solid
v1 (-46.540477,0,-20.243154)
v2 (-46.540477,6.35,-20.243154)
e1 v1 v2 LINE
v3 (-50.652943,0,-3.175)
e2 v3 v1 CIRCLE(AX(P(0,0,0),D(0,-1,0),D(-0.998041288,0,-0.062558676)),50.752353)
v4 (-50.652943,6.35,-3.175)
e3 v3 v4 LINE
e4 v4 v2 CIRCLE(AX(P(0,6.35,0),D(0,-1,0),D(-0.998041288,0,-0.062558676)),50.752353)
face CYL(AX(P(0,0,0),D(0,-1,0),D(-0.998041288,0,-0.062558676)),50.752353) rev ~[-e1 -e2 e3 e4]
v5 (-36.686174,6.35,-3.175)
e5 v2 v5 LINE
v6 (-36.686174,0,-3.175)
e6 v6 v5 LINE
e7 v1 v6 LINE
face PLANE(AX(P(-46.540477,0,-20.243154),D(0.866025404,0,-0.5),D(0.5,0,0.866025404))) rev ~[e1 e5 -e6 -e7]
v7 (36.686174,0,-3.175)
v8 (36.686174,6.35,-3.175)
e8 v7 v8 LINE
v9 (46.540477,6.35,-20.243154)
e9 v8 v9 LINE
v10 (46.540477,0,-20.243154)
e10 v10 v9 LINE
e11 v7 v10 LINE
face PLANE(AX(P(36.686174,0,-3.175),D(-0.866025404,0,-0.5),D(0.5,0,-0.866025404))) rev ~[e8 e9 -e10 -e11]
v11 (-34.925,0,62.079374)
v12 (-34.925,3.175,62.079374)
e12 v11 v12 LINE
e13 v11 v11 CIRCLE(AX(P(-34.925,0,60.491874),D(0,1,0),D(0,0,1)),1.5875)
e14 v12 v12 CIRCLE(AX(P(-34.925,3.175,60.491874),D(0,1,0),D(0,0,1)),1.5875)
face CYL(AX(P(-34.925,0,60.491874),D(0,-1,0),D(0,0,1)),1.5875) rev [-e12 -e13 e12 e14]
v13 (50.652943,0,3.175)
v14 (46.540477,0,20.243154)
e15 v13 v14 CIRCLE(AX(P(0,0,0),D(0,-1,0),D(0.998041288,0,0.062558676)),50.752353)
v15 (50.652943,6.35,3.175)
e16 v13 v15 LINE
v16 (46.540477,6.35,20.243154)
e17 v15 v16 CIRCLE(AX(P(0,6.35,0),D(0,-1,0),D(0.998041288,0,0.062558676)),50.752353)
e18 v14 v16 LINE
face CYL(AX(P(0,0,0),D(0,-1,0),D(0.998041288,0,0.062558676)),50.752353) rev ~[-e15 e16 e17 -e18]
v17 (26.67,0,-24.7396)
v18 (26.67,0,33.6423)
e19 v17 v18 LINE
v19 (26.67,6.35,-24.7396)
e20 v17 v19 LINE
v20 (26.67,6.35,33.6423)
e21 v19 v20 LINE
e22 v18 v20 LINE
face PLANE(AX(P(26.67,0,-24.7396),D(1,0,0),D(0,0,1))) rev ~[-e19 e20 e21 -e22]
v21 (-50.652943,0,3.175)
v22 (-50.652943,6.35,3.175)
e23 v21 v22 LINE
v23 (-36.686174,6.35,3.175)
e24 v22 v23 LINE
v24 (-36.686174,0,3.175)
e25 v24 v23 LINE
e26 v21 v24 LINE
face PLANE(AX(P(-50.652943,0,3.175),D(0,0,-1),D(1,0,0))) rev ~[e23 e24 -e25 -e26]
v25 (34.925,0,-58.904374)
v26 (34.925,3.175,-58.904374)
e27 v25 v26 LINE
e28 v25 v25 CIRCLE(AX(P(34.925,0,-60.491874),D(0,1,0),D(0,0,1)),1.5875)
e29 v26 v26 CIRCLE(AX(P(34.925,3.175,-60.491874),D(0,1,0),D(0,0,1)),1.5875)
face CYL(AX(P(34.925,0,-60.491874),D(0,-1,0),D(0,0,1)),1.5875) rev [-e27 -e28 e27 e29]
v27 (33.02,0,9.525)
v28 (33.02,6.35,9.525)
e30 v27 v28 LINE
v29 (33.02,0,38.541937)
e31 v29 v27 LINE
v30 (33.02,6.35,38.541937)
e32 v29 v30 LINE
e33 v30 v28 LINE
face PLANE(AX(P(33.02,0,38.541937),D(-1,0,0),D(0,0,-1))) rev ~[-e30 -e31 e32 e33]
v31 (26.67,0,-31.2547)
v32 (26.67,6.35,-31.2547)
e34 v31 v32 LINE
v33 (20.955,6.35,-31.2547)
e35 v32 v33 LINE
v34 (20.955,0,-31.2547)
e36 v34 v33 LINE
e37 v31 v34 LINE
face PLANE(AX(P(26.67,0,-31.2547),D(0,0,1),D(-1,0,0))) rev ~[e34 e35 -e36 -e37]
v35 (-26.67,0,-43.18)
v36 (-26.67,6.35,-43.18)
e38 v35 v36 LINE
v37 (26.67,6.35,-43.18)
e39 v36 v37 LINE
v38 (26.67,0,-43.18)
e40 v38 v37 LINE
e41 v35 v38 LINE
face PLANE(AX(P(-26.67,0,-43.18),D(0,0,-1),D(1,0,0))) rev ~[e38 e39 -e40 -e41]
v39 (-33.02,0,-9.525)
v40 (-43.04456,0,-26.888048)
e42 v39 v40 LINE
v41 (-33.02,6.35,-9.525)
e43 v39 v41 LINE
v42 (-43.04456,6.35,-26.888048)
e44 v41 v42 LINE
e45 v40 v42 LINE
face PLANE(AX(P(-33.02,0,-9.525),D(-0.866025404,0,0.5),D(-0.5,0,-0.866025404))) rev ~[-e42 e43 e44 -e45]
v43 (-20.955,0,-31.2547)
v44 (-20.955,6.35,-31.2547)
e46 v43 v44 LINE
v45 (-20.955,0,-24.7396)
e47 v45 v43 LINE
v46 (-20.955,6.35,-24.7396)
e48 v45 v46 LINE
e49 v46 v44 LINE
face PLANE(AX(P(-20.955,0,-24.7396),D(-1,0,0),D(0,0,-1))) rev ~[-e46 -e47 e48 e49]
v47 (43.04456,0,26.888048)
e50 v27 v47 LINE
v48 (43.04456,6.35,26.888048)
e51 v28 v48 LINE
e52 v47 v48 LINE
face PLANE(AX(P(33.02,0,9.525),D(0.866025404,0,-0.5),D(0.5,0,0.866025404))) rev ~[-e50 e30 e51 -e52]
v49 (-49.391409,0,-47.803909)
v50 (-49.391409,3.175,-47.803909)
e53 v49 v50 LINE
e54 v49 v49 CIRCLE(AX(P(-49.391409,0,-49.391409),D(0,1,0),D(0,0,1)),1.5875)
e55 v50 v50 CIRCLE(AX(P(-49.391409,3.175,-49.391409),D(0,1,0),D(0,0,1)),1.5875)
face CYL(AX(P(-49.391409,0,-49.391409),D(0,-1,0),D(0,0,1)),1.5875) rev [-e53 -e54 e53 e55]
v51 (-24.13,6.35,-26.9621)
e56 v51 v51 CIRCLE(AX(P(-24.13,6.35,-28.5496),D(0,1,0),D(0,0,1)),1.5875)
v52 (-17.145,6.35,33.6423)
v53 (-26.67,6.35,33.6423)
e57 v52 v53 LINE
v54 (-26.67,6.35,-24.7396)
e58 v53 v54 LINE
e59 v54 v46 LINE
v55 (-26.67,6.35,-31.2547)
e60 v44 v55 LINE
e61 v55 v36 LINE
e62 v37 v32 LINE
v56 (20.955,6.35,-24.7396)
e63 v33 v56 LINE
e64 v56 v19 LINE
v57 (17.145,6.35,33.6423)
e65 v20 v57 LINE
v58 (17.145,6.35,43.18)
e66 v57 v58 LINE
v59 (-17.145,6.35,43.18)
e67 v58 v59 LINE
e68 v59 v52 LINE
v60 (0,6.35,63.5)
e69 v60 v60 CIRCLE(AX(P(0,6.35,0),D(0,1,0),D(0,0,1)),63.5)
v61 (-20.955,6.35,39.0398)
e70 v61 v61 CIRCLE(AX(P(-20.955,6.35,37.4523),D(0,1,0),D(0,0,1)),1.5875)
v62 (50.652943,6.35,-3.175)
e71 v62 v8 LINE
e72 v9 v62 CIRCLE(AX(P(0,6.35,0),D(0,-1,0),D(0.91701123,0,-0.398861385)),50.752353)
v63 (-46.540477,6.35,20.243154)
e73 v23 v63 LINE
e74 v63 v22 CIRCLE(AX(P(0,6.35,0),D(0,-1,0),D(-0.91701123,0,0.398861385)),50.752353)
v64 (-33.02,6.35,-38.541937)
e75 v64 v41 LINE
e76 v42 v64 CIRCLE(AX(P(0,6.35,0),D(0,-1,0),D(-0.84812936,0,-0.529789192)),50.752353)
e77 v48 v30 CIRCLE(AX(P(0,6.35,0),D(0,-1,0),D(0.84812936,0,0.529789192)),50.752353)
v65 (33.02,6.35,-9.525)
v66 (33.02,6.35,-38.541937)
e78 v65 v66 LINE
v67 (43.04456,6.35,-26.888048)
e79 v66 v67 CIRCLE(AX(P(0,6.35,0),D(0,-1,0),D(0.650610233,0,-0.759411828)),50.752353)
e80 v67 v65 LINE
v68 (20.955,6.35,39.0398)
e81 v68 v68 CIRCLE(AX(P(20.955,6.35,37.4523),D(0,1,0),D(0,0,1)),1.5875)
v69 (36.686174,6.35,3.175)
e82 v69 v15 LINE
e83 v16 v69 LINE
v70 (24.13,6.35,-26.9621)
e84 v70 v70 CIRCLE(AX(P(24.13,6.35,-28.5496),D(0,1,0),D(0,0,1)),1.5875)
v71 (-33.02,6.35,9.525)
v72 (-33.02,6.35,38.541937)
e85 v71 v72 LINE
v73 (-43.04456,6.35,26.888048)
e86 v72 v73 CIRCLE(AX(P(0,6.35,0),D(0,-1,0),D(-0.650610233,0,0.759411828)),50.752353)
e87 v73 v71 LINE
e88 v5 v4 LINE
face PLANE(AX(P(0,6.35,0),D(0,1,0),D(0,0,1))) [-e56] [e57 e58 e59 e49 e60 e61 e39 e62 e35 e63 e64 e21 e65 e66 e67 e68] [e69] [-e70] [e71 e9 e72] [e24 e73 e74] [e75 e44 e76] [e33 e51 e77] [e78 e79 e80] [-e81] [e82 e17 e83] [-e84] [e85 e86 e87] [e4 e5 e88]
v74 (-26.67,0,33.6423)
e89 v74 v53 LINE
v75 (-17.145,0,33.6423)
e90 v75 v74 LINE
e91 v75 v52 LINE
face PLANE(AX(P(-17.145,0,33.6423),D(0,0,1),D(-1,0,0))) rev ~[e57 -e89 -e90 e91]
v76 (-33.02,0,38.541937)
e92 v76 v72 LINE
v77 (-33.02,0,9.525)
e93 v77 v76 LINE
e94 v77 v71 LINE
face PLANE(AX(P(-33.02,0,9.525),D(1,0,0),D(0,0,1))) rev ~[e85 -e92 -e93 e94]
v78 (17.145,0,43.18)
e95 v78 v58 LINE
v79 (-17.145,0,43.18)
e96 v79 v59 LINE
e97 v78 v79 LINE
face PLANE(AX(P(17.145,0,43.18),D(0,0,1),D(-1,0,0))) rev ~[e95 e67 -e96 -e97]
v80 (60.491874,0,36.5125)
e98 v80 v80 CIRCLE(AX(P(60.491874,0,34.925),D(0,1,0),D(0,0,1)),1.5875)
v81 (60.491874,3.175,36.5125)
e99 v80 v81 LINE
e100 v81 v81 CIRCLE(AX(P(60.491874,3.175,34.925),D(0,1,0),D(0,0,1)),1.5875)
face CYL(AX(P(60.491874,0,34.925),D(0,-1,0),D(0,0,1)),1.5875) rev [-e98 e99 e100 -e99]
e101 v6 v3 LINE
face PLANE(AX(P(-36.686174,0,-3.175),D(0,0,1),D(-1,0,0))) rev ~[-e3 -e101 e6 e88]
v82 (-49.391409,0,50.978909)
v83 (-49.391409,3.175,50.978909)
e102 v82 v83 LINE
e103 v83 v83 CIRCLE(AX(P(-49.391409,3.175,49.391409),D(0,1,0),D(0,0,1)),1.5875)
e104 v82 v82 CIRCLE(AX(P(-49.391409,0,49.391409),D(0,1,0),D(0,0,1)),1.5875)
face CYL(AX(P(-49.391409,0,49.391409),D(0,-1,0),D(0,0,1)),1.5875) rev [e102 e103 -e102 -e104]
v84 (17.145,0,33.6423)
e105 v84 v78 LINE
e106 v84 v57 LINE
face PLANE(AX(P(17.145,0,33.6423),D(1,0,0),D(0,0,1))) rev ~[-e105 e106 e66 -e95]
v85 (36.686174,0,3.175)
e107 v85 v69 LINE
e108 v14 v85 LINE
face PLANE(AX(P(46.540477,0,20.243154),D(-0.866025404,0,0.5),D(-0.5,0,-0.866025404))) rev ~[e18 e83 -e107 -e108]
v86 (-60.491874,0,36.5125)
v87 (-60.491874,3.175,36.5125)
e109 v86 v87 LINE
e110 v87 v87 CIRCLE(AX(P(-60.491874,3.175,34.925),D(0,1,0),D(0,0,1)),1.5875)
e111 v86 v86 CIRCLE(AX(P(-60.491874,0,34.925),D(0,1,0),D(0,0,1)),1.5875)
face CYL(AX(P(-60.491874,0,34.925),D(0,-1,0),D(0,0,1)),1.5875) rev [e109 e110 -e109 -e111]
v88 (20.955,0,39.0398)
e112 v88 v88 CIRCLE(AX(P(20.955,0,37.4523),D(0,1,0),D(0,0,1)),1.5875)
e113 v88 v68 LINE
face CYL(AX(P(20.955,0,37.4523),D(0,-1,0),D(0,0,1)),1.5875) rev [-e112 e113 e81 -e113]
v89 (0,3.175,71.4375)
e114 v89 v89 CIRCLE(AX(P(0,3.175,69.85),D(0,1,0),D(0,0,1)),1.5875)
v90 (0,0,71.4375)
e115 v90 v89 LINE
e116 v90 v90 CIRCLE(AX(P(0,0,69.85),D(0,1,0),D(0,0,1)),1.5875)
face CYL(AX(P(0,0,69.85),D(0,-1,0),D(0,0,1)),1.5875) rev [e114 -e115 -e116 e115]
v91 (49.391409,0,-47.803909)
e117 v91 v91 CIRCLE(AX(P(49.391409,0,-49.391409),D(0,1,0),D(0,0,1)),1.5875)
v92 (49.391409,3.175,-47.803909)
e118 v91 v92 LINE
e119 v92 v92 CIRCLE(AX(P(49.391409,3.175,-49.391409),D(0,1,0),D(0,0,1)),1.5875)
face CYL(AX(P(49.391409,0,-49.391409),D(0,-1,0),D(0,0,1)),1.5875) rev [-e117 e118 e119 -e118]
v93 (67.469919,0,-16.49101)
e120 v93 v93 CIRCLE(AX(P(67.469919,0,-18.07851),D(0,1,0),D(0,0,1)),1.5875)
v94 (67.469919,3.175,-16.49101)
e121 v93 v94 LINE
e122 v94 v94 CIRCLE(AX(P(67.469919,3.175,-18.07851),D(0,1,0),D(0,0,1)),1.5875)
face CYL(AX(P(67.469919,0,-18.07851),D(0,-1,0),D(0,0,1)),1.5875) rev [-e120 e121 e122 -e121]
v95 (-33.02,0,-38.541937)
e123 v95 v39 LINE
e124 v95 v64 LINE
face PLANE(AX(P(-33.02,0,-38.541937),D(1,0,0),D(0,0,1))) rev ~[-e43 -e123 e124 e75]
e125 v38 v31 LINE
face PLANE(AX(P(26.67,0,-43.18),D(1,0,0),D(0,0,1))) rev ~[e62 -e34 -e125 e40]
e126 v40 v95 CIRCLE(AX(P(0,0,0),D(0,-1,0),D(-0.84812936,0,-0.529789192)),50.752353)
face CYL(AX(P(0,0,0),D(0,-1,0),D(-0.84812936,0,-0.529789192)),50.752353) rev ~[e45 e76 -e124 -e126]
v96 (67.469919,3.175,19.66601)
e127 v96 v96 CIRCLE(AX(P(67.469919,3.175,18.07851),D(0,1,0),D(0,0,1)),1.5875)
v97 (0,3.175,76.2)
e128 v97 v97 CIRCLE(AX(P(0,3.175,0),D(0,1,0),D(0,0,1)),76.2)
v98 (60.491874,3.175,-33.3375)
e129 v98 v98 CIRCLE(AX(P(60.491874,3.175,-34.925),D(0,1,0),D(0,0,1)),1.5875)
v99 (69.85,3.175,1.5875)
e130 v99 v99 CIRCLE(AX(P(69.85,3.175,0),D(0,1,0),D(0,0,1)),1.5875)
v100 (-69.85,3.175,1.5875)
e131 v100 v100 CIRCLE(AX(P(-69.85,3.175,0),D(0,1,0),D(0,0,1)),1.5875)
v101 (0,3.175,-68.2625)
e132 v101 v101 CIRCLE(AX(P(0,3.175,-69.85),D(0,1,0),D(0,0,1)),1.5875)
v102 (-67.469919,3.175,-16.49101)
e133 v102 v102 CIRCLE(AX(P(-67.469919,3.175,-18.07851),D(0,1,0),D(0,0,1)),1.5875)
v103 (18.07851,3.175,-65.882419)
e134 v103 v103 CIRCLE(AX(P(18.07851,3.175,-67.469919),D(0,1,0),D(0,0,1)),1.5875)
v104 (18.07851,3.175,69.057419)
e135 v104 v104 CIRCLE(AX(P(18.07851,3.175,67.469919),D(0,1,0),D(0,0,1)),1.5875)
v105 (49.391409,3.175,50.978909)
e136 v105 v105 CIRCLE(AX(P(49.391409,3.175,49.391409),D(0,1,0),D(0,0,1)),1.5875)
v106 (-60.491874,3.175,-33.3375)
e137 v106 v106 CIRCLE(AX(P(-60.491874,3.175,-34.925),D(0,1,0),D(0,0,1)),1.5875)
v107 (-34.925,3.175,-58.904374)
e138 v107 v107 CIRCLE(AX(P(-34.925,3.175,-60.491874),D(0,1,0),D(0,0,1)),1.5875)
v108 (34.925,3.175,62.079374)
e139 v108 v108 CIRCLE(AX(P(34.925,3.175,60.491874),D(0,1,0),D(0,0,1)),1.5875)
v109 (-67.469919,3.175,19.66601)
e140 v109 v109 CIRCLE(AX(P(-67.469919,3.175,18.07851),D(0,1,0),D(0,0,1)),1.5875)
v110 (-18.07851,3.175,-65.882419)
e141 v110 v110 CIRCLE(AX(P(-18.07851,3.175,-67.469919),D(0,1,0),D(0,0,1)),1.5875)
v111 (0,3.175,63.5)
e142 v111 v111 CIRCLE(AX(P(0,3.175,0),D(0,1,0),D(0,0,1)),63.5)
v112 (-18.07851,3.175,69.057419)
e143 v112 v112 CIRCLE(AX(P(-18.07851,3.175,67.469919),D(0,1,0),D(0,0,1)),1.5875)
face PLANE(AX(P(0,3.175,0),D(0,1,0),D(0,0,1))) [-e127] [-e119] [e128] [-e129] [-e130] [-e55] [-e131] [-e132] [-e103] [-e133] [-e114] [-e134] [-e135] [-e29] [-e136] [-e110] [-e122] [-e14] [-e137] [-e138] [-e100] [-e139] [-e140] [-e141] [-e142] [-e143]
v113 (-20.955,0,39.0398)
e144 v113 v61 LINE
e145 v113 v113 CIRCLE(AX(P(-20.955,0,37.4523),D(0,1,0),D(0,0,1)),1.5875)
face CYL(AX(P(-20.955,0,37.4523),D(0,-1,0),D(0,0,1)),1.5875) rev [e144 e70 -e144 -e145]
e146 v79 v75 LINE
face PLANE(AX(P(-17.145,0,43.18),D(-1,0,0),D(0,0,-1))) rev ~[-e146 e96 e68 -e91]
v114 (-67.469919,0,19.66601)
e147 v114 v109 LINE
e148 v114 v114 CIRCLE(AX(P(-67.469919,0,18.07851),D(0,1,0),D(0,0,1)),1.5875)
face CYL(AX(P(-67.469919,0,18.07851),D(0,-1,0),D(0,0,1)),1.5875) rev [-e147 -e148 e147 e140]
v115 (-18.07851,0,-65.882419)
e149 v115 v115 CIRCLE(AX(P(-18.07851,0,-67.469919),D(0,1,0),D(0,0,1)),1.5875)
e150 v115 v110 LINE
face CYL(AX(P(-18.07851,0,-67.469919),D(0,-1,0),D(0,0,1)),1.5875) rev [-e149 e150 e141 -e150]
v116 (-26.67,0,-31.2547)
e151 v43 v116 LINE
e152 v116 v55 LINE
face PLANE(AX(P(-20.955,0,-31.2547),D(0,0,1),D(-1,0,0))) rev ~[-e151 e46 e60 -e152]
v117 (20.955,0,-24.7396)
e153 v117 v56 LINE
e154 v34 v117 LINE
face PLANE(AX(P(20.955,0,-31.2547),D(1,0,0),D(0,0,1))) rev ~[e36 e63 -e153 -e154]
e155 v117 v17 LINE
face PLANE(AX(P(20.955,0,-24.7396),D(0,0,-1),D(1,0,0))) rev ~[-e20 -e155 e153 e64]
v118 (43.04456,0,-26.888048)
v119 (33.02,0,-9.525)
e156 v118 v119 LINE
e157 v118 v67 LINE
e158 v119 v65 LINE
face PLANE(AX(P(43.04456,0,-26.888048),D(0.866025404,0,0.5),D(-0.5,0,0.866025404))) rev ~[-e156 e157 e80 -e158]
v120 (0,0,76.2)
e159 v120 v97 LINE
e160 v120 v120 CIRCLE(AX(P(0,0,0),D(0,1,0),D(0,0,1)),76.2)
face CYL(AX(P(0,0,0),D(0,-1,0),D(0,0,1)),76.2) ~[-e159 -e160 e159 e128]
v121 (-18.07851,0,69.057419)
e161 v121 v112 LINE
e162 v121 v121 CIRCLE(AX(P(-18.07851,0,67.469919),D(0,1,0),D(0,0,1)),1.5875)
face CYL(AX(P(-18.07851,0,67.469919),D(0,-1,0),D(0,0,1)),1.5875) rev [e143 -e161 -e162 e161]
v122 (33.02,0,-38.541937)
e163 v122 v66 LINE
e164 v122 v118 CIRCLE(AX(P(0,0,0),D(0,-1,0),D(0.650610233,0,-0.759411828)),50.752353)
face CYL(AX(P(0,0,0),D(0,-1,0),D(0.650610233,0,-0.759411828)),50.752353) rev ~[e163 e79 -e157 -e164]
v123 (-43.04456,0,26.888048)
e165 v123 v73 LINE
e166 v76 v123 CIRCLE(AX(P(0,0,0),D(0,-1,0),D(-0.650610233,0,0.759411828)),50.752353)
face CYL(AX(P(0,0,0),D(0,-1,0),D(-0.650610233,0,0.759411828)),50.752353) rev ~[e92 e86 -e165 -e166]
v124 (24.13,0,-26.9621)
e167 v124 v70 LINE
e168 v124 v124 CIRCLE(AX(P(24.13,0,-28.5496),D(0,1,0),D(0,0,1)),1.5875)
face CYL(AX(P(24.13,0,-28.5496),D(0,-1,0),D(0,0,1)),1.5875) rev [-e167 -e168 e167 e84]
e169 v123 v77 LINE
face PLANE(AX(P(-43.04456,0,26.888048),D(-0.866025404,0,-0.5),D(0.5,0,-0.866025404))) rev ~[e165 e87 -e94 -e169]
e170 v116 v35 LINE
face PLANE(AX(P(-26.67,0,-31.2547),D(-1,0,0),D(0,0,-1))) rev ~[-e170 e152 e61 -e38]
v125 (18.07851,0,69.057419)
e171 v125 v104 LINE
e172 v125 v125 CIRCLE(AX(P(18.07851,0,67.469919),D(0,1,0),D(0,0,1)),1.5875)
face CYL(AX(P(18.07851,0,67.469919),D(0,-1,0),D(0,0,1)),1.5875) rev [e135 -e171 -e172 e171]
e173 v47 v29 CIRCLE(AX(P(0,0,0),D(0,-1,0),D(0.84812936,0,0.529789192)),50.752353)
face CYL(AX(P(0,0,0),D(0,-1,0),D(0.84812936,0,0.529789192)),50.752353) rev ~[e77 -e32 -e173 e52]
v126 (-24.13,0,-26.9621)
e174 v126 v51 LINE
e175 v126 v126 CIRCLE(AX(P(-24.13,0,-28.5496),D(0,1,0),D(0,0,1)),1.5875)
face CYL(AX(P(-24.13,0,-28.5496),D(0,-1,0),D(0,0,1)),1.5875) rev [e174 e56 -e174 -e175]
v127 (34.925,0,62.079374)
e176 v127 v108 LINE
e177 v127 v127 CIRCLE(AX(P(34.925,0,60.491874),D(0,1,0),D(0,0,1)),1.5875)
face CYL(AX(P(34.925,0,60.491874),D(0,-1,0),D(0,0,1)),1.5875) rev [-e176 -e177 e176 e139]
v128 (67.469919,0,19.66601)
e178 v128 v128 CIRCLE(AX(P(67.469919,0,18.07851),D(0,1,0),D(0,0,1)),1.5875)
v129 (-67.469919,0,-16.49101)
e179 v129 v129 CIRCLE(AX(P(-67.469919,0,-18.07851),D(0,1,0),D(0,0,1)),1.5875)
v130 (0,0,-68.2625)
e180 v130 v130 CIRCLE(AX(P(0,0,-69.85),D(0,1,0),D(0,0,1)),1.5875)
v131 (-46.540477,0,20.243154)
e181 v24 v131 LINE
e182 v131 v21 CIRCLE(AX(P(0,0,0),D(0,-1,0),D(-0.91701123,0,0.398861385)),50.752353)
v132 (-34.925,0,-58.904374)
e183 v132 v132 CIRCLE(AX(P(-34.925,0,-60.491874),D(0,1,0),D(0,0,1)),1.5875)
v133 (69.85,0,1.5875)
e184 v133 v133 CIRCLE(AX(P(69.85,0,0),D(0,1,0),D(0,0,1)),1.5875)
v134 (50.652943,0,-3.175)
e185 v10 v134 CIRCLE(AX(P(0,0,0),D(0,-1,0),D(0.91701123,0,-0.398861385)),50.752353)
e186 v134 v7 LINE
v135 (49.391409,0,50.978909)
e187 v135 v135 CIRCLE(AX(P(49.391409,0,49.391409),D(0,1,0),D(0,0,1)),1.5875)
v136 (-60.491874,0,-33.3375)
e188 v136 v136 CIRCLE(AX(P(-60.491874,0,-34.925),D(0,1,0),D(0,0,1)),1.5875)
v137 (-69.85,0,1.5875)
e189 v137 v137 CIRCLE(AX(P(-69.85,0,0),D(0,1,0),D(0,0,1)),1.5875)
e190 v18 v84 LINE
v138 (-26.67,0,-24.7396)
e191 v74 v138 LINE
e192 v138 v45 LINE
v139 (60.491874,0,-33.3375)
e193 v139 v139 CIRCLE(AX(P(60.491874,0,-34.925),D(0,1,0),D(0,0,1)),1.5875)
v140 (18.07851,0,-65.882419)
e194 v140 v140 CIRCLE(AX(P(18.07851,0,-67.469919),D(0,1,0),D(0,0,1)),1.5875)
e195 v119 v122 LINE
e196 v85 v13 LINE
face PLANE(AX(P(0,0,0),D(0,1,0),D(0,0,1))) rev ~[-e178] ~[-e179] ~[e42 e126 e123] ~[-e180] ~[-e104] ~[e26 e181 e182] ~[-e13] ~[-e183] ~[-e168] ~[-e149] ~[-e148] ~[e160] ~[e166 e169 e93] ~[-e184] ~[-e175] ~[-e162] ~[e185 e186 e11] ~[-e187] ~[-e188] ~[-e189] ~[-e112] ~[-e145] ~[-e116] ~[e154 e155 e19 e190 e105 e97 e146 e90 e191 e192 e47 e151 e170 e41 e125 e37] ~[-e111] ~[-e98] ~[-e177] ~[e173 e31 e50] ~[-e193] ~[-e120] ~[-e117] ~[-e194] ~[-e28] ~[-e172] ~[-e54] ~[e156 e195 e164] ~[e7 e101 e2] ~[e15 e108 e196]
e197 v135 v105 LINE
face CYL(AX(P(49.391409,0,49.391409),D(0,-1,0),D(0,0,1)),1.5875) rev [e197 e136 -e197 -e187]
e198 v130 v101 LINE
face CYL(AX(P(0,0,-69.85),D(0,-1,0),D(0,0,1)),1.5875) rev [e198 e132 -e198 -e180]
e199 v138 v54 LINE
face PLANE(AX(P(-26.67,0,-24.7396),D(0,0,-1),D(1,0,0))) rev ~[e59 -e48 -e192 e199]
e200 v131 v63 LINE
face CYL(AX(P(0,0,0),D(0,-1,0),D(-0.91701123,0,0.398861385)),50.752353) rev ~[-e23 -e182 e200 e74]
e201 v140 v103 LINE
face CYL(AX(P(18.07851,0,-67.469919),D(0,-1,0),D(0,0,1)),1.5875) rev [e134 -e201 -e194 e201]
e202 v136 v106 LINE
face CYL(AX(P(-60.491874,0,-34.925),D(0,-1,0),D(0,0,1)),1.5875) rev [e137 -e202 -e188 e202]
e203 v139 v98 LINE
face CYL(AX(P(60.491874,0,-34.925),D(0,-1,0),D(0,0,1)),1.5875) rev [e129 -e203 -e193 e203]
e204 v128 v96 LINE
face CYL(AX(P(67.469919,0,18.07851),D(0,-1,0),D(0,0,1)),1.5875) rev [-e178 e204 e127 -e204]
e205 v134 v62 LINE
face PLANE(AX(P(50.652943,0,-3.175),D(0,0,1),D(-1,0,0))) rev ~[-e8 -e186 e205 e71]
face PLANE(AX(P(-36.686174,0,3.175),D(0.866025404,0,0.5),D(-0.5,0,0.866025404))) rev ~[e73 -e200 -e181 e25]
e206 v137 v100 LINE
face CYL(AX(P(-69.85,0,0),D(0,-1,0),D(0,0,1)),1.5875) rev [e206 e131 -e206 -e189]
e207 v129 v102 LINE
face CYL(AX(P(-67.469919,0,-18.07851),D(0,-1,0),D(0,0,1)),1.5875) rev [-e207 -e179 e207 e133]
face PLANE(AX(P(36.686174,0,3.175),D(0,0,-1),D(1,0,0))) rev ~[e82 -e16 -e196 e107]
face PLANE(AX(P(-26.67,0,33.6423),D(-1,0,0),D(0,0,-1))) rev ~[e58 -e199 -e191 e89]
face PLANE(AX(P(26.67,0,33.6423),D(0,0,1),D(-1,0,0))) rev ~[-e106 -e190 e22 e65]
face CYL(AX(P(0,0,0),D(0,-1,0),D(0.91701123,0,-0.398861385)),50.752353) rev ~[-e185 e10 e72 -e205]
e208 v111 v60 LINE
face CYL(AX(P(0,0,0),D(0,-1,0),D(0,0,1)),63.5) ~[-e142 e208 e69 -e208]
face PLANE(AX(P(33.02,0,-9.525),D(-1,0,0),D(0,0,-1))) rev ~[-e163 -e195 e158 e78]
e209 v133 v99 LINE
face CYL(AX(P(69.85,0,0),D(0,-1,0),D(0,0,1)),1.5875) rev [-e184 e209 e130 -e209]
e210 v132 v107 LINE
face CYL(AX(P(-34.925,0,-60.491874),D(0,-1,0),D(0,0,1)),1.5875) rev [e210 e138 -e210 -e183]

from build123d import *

# Parameters (mm, degrees)
SKETCH1_R           = 63.5
SKETCH1_R_2         = 1.5875
BOSS_EXTRUDE3_DEPTH = 6.35
SKETCH1_7_R         = 76.2
SKETCH1_7_R_2       = 1.5875
SKETCH1_7_R_3       = 63.5
BOSS_EXTRUDE4_DEPTH = 3.175


with BuildPart() as part:
    # Sketch1 → Boss-Extrude3 (new body)
    with BuildSketch(Plane(origin=(0, 0, 0), x_dir=(1, 0, 0), z_dir=(0, 1, 0))):
        Circle(SKETCH1_R)
        with BuildLine():
            Line((-50.652943399, -3.175), (-36.686174209, -3.175))
            Line((-36.686174209, -3.175), (-46.540477324, -20.243153668))
            ThreePointArc((-46.540477324, -20.243153668), (-49.340355951, -11.88825364), (-50.652943399, -3.175))
        make_face(mode=Mode.SUBTRACT)
        with Locations((-20.955, -37.4523)):
            Circle(SKETCH1_R_2, mode=Mode.SUBTRACT)
        with BuildLine():
            Line((-33.02, -9.525), (-33.02, -38.5419369))
            ThreePointArc((-33.02, -38.5419369), (-38.476065533, -33.096732181), (-43.04456039, -26.888047918))
            Line((-43.04456039, -26.888047918), (-33.02, -9.525))
        make_face(mode=Mode.SUBTRACT)
        with Locations((20.955, -37.4523)):
            Circle(SKETCH1_R_2, mode=Mode.SUBTRACT)
        with BuildLine():
            ThreePointArc((43.04456039, -26.888047918), (38.476065533, -33.096732181), (33.02, -38.5419369))
            Line((33.02, -38.5419369), (33.02, -9.525))
            Line((33.02, -9.525), (43.04456039, -26.888047918))
        make_face(mode=Mode.SUBTRACT)
        with BuildLine():
            Line((46.540477324, -20.243153668), (36.686174209, -3.175))
            Line((36.686174209, -3.175), (50.652943399, -3.175))
            ThreePointArc((50.652943399, -3.175), (49.340355951, -11.88825364), (46.540477324, -20.243153668))
        make_face(mode=Mode.SUBTRACT)
        with BuildLine():
            Line((-46.540477324, 20.243153668), (-36.686174209, 3.175))
            Line((-36.686174209, 3.175), (-50.652943399, 3.175))
            ThreePointArc((-50.652943399, 3.175), (-49.340355951, 11.88825364), (-46.540477324, 20.243153668))
        make_face(mode=Mode.SUBTRACT)
        with BuildLine():
            Line((-33.02, 38.5419369), (-33.02, 9.525))
            Line((-33.02, 9.525), (-43.04456039, 26.888047918))
            ThreePointArc((-43.04456039, 26.888047918), (-38.476065533, 33.096732181), (-33.02, 38.5419369))
        make_face(mode=Mode.SUBTRACT)
        with Locations((-24.13, 28.5496)):
            Circle(SKETCH1_R_2, mode=Mode.SUBTRACT)
        Polygon((17.145, -43.18), (-17.145, -43.18), (-17.145, -33.6423), (-26.67, -33.6423), (-26.67, 24.7396), (-20.955, 24.7396), (-20.955, 31.2547), (-26.67, 31.2547), (-26.67, 43.18), (26.67, 43.18), (26.67, 31.2547), (20.955, 31.2547), (20.955, 24.7396), (26.67, 24.7396), (26.67, -33.6423), (17.145, -33.6423), align=None, mode=Mode.SUBTRACT)
        with Locations((24.13, 28.5496)):
            Circle(SKETCH1_R_2, mode=Mode.SUBTRACT)
        with BuildLine():
            Line((43.04456039, 26.888047918), (33.02, 9.525))
            Line((33.02, 9.525), (33.02, 38.5419369))
            ThreePointArc((33.02, 38.5419369), (38.476065533, 33.096732181), (43.04456039, 26.888047918))
        make_face(mode=Mode.SUBTRACT)
        with BuildLine():
            Line((50.652943399, 3.175), (36.686174209, 3.175))
            Line((36.686174209, 3.175), (46.540477324, 20.243153668))
            ThreePointArc((46.540477324, 20.243153668), (49.340355951, 11.88825364), (50.652943399, 3.175))
        make_face(mode=Mode.SUBTRACT)
    extrude(amount=BOSS_EXTRUDE3_DEPTH)

    # Sketch1<7> → Boss-Extrude4 (add)
    with BuildSketch(Plane(origin=(0, 0, 0), x_dir=(1, 0, 0), z_dir=(0, 1, 0))):
        Circle(SKETCH1_7_R)
        with Locations((-49.391408666, -49.391408666)):
            Circle(SKETCH1_7_R_2, mode=Mode.SUBTRACT)
        with Locations((-34.925, -60.491874454)):
            Circle(SKETCH1_7_R_2, mode=Mode.SUBTRACT)
        with Locations((-18.0785103, -67.469918966)):
            Circle(SKETCH1_7_R_2, mode=Mode.SUBTRACT)
        with Locations((0, -69.85)):
            Circle(SKETCH1_7_R_2, mode=Mode.SUBTRACT)
        with Locations((-60.491874454, -34.925)):
            Circle(SKETCH1_7_R_2, mode=Mode.SUBTRACT)
        with Locations((-67.469918966, -18.0785103)):
            Circle(SKETCH1_7_R_2, mode=Mode.SUBTRACT)
        with Locations((-69.85, 0)):
            Circle(SKETCH1_7_R_2, mode=Mode.SUBTRACT)
        with Locations((18.0785103, -67.469918966)):
            Circle(SKETCH1_7_R_2, mode=Mode.SUBTRACT)
        with Locations((34.925, -60.491874454)):
            Circle(SKETCH1_7_R_2, mode=Mode.SUBTRACT)
        with Locations((49.391408666, -49.391408666)):
            Circle(SKETCH1_7_R_2, mode=Mode.SUBTRACT)
        with Locations((60.491874454, -34.925)):
            Circle(SKETCH1_7_R_2, mode=Mode.SUBTRACT)
        with Locations((67.469918966, -18.0785103)):
            Circle(SKETCH1_7_R_2, mode=Mode.SUBTRACT)
        with Locations((69.85, 0)):
            Circle(SKETCH1_7_R_2, mode=Mode.SUBTRACT)
        with Locations((-67.469918966, 18.0785103)):
            Circle(SKETCH1_7_R_2, mode=Mode.SUBTRACT)
        with Locations((-60.491874454, 34.925)):
            Circle(SKETCH1_7_R_2, mode=Mode.SUBTRACT)
        with Locations((-49.391408666, 49.391408666)):
            Circle(SKETCH1_7_R_2, mode=Mode.SUBTRACT)
        with Locations((-34.925, 60.491874454)):
            Circle(SKETCH1_7_R_2, mode=Mode.SUBTRACT)
        with Locations((-18.0785103, 67.469918966)):
            Circle(SKETCH1_7_R_2, mode=Mode.SUBTRACT)
        Circle(SKETCH1_7_R_3, mode=Mode.SUBTRACT)
        with Locations((67.469918966, 18.0785103)):
            Circle(SKETCH1_7_R_2, mode=Mode.SUBTRACT)
        with Locations((60.491874454, 34.925)):
            Circle(SKETCH1_7_R_2, mode=Mode.SUBTRACT)
        with Locations((0, 69.85)):
            Circle(SKETCH1_7_R_2, mode=Mode.SUBTRACT)
        with Locations((18.0785103, 67.469918966)):
            Circle(SKETCH1_7_R_2, mode=Mode.SUBTRACT)
        with Locations((34.925, 60.491874454)):
            Circle(SKETCH1_7_R_2, mode=Mode.SUBTRACT)
        with Locations((49.391408666, 49.391408666)):
            Circle(SKETCH1_7_R_2, mode=Mode.SUBTRACT)
    extrude(amount=BOSS_EXTRUDE4_DEPTH)


solid = part.part
